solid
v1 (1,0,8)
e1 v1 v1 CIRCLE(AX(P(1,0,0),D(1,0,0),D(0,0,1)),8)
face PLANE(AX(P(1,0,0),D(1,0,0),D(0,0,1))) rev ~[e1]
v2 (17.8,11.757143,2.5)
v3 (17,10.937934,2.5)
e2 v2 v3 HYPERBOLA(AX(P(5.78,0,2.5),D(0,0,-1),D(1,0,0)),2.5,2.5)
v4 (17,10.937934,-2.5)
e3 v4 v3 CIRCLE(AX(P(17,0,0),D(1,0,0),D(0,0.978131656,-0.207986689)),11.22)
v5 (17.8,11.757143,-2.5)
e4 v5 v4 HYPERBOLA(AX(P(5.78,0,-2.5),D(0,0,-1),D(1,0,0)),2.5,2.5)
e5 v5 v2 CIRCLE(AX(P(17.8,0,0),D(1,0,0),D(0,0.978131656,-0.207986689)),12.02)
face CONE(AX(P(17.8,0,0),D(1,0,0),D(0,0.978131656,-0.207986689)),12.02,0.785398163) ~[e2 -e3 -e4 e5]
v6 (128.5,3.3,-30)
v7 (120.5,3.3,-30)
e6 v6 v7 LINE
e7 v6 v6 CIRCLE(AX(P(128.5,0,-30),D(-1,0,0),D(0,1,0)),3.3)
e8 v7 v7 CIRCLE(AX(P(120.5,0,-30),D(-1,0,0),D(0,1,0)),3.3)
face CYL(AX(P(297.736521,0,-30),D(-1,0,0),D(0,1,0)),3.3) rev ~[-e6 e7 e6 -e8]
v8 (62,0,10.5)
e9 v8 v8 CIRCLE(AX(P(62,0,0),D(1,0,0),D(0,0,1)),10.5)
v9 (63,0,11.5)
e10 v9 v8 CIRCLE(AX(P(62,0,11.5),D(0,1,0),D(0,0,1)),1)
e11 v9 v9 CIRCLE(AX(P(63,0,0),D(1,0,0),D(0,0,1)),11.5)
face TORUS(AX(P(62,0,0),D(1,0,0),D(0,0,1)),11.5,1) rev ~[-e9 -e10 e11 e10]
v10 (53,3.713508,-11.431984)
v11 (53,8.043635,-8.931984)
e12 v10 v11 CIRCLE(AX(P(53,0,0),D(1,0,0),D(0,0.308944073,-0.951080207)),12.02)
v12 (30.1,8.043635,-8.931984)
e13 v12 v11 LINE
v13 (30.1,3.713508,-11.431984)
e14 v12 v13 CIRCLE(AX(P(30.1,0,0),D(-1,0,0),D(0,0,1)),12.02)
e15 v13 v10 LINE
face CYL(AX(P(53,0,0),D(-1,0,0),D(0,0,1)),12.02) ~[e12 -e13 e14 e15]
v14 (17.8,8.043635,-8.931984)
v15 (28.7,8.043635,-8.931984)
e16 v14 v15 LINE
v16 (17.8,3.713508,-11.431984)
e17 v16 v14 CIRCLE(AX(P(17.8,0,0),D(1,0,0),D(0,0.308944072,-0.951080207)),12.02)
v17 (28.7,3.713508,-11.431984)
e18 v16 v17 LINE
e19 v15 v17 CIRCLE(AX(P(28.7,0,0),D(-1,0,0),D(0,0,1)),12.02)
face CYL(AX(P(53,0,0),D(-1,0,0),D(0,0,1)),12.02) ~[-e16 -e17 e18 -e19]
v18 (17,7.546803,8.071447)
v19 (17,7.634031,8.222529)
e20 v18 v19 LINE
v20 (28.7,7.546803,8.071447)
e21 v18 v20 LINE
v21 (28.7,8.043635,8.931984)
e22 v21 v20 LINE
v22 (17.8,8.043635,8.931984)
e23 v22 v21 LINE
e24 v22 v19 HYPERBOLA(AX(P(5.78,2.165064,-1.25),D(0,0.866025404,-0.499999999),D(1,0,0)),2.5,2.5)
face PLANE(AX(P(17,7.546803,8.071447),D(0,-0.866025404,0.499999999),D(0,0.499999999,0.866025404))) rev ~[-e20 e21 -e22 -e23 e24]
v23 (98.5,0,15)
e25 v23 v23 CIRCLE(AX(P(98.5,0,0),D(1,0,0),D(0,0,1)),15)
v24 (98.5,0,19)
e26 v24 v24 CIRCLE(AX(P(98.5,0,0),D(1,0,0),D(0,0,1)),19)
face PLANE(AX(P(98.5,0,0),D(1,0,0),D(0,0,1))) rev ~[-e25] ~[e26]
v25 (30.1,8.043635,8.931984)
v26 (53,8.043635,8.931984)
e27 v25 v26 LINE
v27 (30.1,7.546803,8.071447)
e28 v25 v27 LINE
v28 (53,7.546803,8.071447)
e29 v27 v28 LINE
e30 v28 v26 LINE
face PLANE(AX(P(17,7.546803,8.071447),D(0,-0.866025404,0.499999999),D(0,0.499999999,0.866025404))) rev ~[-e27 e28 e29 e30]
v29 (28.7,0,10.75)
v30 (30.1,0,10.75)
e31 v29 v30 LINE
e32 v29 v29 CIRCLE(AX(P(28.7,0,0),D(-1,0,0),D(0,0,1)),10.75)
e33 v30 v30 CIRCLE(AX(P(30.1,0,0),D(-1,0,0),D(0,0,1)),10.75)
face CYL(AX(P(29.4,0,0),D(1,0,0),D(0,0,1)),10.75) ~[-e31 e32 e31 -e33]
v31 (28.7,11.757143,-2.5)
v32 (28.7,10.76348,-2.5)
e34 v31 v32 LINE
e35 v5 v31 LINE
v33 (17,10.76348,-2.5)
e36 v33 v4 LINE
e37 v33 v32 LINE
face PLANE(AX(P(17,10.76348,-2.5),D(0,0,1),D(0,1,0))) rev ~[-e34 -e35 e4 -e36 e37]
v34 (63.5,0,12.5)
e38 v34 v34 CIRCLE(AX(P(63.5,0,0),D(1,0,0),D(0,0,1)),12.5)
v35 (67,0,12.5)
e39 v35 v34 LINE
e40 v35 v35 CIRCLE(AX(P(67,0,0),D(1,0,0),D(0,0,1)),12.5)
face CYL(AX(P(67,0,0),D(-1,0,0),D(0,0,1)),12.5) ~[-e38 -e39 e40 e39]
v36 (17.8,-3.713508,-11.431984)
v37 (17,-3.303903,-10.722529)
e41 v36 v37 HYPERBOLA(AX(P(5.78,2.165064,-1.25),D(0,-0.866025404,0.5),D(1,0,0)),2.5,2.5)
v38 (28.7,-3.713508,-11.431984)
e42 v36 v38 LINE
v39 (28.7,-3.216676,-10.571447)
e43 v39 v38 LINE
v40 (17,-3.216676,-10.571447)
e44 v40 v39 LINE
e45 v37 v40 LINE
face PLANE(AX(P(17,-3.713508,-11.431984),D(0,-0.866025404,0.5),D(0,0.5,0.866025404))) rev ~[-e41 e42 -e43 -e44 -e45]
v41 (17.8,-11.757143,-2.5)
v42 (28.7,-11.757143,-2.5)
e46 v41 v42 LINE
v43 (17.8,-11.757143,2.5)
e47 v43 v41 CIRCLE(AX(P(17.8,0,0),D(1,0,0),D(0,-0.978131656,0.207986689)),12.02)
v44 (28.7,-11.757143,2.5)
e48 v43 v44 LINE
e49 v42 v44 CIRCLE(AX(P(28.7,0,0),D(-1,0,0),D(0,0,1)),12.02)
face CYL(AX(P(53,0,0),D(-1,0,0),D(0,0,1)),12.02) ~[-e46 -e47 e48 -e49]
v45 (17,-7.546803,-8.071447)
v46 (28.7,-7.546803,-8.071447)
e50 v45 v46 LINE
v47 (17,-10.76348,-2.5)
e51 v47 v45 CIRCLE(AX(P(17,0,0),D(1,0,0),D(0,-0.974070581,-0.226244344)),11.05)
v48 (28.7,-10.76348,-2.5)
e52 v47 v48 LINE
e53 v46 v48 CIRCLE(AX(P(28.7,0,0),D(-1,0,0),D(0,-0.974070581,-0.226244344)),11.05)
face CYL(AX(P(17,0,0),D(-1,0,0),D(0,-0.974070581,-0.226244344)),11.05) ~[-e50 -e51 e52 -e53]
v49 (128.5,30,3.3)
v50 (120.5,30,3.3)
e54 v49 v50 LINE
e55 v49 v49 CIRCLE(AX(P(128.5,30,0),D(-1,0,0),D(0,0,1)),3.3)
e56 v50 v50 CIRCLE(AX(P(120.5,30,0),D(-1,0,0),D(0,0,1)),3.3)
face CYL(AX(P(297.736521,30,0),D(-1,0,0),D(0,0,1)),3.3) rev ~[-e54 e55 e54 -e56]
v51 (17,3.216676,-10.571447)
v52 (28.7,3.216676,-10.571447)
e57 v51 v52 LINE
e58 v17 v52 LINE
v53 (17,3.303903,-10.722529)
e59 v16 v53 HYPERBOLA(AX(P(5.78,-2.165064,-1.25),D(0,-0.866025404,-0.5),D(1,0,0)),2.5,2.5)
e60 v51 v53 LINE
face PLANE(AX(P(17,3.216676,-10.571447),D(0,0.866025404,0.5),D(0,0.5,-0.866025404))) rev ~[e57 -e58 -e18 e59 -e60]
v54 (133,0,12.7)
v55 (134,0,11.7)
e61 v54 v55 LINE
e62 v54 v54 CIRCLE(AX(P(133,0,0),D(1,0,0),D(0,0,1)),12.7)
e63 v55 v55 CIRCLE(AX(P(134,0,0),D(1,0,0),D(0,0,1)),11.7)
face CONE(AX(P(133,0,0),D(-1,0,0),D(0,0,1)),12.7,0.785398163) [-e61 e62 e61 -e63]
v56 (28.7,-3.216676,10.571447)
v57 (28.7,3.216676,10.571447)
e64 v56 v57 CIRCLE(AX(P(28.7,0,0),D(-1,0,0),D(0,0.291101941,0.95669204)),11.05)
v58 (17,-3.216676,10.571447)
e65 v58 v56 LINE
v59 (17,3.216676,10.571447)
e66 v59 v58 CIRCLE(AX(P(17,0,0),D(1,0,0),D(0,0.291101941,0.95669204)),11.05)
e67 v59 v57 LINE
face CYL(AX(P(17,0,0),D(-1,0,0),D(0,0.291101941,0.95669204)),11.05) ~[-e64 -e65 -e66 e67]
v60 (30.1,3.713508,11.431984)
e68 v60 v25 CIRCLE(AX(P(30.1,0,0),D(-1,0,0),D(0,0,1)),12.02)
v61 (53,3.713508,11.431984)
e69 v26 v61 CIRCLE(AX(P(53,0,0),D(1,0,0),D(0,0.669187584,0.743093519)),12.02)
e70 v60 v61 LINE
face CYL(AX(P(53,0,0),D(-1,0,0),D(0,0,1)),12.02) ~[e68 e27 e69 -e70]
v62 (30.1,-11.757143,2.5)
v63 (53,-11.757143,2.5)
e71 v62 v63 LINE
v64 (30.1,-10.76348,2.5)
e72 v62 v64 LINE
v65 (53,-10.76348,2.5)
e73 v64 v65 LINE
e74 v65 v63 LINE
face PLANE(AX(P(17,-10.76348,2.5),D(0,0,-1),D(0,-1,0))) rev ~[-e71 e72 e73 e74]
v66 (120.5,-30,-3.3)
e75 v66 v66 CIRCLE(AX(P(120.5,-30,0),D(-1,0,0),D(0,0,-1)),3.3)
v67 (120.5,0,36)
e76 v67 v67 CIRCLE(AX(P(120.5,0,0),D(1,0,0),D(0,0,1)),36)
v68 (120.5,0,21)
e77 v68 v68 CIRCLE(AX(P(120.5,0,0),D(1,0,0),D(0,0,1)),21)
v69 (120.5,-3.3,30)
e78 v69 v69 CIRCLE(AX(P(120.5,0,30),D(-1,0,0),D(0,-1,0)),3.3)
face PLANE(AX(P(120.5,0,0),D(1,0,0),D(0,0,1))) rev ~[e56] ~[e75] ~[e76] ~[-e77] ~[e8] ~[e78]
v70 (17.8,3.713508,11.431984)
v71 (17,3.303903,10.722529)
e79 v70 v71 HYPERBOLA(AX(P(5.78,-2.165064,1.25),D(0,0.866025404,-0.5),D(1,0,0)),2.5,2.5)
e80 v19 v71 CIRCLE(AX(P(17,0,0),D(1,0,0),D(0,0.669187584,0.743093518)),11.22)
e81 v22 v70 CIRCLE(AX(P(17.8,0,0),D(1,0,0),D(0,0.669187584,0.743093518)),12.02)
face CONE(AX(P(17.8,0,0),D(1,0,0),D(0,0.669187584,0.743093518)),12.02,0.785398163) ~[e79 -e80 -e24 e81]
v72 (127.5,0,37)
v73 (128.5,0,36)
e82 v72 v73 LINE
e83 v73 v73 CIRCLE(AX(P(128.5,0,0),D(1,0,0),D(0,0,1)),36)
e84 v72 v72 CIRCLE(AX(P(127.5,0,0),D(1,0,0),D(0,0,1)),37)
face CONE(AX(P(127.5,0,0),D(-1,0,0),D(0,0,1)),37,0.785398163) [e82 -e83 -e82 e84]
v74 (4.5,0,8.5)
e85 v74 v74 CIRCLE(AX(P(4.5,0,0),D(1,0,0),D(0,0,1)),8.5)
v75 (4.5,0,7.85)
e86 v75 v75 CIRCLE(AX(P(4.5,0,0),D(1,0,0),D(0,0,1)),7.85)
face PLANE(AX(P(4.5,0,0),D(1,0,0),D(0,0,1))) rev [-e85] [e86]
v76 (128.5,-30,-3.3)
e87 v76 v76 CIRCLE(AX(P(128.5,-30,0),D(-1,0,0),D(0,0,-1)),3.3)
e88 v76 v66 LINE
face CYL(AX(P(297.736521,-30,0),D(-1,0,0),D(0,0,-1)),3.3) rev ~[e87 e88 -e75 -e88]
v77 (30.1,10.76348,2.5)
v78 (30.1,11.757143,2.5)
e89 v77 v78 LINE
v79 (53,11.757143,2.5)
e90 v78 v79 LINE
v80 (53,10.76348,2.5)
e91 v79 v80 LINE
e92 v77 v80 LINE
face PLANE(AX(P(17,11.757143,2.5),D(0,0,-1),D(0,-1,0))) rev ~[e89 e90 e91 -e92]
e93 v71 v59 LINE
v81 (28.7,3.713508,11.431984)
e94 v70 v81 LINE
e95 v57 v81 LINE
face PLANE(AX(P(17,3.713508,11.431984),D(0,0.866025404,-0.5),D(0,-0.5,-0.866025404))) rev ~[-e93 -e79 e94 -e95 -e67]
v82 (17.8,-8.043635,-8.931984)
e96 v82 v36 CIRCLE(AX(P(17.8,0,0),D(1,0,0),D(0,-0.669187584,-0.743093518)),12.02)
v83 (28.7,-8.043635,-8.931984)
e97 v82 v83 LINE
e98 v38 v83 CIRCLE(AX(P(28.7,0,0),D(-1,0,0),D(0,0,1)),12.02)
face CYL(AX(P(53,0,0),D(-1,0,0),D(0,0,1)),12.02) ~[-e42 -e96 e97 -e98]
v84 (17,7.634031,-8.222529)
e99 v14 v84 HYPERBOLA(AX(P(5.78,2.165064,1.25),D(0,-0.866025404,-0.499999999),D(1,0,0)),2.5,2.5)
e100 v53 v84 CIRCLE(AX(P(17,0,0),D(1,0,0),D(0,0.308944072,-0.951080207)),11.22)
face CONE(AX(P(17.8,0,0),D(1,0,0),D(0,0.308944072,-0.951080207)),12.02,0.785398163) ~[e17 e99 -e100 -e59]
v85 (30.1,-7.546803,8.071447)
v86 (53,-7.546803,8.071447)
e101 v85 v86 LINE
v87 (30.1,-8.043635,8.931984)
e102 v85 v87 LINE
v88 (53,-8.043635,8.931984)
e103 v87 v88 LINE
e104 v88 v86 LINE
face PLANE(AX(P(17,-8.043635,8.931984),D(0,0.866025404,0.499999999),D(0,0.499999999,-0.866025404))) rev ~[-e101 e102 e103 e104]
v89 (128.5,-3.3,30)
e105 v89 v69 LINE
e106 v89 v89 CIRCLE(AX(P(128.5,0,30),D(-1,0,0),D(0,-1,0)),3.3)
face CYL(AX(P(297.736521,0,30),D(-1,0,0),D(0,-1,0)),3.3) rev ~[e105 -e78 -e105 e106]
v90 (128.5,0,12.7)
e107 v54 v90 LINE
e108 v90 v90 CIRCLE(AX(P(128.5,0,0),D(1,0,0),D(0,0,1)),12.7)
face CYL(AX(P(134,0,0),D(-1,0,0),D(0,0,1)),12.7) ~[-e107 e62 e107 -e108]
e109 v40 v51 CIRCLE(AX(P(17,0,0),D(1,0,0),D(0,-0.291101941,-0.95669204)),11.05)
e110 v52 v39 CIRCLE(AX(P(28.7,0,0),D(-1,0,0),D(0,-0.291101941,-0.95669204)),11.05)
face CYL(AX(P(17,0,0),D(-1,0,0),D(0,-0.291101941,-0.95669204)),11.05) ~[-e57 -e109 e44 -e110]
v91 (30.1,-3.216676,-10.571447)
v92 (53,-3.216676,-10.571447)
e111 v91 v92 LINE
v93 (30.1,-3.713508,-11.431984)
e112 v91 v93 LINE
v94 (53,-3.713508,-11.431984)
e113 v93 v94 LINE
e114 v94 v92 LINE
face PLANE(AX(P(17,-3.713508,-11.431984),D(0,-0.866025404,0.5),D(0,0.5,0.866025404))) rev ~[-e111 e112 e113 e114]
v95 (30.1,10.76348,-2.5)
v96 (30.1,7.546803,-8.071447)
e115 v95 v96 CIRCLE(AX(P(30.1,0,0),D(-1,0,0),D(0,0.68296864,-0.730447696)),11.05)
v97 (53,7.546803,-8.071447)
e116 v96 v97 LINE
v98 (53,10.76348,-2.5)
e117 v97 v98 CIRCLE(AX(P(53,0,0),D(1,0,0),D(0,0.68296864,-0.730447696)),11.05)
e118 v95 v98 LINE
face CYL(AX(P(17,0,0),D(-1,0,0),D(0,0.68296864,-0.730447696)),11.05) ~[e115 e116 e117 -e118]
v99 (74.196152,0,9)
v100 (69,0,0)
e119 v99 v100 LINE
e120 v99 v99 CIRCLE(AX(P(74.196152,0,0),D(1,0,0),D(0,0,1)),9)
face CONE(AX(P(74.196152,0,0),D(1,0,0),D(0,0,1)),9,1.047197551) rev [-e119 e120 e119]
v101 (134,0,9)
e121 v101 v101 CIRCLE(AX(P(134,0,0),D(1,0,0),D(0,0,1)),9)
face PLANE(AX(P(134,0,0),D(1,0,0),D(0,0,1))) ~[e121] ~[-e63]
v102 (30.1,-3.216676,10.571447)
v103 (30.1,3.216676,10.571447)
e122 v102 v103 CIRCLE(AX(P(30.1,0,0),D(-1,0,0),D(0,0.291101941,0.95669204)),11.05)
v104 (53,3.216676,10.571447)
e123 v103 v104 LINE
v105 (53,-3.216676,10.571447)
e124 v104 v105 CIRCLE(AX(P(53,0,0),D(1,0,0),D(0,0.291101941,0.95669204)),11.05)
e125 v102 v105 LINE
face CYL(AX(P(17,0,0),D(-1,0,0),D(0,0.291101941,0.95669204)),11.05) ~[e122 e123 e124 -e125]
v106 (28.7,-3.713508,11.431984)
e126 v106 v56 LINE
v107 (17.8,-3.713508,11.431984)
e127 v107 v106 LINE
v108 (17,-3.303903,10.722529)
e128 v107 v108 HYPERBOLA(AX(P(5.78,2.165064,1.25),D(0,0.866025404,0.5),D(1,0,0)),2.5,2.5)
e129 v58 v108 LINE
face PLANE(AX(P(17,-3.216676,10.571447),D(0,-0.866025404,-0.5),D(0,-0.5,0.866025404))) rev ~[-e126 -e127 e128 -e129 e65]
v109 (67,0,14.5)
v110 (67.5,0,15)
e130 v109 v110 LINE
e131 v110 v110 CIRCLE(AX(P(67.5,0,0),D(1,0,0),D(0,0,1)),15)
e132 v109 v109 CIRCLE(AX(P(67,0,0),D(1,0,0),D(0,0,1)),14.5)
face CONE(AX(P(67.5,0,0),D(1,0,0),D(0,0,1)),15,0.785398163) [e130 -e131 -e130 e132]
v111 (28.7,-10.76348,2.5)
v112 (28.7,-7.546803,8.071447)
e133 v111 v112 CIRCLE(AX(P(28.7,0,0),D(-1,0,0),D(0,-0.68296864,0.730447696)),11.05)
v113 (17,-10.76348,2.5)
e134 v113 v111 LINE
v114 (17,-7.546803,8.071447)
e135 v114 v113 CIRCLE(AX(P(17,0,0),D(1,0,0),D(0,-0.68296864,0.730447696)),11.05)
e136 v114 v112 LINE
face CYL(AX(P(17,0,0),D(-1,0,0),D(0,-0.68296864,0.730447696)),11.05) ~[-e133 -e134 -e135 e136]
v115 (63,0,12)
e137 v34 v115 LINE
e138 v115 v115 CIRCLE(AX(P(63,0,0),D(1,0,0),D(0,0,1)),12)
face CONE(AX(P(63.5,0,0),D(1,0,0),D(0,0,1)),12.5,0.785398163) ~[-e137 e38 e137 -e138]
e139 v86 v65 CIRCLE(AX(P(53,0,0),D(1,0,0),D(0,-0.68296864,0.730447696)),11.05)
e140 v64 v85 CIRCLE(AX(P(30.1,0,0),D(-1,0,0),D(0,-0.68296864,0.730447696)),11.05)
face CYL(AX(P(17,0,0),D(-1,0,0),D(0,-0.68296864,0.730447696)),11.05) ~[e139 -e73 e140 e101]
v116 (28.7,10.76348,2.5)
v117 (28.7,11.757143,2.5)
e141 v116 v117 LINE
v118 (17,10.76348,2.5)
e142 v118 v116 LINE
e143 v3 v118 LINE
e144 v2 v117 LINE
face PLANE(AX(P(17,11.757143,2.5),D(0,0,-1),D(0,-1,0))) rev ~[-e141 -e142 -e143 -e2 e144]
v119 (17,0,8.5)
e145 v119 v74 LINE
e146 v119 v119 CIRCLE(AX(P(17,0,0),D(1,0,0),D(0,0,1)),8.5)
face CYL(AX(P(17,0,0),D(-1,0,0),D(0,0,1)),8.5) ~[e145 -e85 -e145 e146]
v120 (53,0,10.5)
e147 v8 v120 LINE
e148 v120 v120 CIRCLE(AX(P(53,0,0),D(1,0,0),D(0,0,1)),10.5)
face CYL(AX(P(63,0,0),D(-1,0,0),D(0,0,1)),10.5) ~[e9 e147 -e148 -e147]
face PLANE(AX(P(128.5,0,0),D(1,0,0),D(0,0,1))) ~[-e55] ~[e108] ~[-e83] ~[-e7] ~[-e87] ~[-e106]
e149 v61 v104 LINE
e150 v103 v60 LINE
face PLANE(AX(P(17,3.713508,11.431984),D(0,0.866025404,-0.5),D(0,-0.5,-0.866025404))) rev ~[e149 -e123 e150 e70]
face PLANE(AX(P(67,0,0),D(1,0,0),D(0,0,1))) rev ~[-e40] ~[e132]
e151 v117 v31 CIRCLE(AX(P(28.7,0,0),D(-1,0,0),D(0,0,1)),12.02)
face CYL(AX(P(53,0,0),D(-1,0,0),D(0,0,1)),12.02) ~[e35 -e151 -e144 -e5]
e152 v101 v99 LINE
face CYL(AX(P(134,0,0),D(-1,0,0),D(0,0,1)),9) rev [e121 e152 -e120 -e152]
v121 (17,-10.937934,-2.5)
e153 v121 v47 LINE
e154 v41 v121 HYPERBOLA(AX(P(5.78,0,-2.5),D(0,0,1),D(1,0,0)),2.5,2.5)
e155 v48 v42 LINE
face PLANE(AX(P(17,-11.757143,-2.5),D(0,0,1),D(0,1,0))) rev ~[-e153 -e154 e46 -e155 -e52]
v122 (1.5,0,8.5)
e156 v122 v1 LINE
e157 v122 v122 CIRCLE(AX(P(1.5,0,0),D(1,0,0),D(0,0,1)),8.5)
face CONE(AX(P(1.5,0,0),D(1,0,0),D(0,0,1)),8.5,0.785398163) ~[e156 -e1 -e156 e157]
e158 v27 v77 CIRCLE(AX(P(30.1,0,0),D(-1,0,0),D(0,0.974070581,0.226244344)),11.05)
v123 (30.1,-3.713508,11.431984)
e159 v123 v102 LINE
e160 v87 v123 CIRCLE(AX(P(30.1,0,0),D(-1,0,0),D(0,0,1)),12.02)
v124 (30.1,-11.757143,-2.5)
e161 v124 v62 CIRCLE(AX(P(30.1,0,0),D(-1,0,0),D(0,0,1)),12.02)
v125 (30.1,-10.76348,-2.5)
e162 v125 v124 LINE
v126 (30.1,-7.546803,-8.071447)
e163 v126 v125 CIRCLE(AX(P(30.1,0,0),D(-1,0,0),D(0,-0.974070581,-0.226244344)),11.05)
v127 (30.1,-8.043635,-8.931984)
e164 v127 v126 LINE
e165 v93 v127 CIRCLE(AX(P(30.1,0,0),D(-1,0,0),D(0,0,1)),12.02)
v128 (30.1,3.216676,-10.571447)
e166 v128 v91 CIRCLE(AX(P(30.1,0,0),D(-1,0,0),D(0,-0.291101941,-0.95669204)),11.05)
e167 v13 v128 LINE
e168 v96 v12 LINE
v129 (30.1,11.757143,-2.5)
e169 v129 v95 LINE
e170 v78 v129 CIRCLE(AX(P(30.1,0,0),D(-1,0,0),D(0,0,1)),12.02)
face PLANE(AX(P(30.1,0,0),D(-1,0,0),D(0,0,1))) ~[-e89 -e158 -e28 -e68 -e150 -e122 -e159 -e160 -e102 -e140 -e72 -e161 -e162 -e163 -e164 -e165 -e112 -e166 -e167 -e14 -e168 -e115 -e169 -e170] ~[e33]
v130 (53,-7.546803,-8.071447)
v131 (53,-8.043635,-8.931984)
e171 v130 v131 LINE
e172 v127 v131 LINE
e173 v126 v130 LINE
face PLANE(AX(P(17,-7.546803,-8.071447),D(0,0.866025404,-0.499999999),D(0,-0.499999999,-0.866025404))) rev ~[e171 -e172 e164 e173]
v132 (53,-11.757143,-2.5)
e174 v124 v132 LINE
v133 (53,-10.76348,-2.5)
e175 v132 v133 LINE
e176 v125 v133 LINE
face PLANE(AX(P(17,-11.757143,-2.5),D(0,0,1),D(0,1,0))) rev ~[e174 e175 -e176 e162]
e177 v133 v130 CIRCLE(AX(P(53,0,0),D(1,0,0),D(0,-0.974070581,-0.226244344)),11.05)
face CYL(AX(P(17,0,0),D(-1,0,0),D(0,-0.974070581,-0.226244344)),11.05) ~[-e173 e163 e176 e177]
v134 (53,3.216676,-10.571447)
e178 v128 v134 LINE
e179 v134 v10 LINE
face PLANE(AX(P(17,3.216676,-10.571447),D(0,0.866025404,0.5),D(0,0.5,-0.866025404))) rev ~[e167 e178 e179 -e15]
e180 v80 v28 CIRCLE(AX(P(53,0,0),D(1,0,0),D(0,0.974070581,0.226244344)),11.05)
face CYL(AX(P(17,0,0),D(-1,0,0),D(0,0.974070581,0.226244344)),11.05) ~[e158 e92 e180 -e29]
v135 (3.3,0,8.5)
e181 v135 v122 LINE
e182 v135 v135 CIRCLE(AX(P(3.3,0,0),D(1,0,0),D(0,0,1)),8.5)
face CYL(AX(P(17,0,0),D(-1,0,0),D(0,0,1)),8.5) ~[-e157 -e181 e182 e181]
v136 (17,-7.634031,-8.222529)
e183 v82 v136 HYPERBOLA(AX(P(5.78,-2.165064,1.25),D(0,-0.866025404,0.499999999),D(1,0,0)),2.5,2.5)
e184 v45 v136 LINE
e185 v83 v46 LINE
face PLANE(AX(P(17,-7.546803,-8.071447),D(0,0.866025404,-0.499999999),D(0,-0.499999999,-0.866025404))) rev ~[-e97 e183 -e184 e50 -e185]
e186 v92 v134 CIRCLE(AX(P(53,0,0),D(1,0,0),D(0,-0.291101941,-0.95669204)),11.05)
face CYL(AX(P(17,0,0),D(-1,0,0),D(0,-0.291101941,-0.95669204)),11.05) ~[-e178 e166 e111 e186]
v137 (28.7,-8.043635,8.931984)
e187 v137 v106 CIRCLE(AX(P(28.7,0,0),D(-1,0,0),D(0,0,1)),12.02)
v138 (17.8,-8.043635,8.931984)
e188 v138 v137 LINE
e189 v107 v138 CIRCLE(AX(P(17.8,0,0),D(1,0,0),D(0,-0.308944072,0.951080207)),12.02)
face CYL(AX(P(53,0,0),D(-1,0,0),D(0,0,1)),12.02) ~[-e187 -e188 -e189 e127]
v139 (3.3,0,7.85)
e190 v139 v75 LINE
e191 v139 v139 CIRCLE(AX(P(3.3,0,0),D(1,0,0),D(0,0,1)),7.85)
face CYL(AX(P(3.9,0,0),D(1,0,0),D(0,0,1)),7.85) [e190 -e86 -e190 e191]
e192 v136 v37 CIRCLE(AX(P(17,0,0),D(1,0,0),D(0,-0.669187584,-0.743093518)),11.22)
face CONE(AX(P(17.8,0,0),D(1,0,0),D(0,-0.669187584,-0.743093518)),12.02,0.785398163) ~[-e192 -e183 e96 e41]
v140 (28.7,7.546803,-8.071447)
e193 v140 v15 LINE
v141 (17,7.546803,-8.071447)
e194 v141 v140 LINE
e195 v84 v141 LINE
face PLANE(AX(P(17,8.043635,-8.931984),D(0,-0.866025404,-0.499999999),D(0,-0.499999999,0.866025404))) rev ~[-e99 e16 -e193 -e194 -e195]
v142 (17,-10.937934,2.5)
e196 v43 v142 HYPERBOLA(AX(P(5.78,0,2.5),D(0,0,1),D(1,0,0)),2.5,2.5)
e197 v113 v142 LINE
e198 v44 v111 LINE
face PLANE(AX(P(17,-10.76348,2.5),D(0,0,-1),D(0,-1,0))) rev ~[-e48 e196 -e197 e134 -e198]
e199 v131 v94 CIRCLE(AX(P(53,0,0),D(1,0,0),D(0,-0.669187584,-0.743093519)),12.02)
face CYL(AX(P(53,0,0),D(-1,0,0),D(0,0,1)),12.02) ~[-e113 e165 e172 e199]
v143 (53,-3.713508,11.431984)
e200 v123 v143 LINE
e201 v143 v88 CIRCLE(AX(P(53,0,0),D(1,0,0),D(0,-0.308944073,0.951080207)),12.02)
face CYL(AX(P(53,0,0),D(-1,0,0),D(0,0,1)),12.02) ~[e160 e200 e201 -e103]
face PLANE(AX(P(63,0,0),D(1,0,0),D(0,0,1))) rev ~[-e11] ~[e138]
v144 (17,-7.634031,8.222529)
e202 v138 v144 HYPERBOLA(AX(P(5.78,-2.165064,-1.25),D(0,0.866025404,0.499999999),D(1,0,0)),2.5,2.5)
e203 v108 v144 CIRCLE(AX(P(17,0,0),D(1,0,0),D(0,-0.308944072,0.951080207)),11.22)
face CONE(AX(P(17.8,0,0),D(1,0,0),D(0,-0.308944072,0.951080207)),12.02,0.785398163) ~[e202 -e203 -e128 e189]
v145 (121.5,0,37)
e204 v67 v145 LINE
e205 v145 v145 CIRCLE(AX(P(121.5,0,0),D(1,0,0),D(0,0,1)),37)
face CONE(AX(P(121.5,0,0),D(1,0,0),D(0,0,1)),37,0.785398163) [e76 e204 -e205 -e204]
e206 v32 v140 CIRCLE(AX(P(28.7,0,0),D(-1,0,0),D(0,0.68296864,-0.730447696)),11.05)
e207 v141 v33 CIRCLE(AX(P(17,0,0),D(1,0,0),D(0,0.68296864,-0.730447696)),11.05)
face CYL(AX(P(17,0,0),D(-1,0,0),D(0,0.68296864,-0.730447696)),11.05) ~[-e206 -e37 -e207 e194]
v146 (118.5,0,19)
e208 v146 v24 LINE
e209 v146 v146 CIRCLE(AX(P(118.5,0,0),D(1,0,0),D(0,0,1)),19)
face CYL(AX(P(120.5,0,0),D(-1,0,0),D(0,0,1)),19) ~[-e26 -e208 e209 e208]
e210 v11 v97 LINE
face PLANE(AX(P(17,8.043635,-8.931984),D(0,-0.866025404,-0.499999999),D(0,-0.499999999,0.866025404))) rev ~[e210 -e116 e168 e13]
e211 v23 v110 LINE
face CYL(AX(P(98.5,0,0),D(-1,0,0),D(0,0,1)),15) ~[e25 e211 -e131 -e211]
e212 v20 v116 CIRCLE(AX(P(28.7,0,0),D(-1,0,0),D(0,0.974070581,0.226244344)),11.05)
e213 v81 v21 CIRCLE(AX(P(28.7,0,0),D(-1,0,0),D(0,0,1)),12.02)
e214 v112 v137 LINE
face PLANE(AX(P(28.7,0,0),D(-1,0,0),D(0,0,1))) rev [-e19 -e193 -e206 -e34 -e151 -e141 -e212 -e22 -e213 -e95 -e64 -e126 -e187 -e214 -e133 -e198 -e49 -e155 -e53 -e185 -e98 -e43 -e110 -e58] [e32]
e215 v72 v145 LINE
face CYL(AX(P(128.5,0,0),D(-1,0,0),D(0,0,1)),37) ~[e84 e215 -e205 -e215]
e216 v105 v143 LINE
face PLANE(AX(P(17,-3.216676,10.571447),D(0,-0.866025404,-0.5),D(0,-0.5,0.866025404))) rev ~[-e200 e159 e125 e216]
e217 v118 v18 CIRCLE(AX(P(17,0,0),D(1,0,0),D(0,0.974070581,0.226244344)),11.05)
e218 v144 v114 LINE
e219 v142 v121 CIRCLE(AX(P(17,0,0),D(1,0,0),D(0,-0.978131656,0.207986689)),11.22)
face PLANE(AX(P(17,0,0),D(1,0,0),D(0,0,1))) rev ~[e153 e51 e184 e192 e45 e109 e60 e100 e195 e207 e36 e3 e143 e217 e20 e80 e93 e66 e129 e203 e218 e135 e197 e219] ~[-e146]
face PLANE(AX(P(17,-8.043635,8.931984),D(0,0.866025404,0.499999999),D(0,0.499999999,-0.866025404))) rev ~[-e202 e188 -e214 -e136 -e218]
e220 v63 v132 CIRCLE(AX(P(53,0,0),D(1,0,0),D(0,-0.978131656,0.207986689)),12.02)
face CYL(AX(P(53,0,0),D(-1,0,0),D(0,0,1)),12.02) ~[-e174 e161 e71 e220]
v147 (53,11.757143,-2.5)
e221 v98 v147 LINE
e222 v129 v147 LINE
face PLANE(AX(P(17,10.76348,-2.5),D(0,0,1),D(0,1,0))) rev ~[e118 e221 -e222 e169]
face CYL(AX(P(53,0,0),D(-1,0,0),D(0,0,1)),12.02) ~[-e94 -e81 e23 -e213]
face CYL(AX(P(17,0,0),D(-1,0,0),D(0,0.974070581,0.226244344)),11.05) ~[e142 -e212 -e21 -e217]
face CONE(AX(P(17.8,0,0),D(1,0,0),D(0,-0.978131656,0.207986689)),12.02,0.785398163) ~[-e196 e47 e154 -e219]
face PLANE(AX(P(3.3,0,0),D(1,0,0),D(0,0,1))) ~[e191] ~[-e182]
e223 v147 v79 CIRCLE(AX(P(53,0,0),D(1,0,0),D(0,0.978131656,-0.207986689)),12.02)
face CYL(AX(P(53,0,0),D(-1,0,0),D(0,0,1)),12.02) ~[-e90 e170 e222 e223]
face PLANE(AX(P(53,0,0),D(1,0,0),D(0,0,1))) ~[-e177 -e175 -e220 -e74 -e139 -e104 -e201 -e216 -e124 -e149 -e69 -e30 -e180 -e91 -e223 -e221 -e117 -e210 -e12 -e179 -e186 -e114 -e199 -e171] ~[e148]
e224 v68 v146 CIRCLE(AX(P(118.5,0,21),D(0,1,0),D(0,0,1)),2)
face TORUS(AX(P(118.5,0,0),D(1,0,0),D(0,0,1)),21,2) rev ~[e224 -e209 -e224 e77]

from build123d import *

# Parameters (mm, degrees)
ESQUISSE1_W                  = 135
ESQUISSE1_H                  = 37.5
D_GAGEMENT_M61_D             = 6.6
R_P_TITION_CIRCULAIRE1_COUNT = 4
CONG_1_R                     = 2
ESQUISSE12_W                 = 1.4
ESQUISSE12_H                 = 1.27
ESQUISSE7_R                  = 13.345253716
ENL_V_MAT_EXTRU_1_DEPTH      = 36
ESQUISSE8_W                  = 1.2
ESQUISSE8_H                  = 0.65
CHANFREIN1_SIZE              = 0.8
CHANFREIN2_SIZE              = 0.5
CONG_2_R                     = 1
CHANFREIN3_SIZE              = 0.5
CHANFREIN4_SIZE              = 1
CHANFREIN5_SIZE              = 1
CHANFREIN6_SIZE              = 0.5


with BuildPart() as part:
    # Esquisse1 → Révolution1 (revolve)
    with BuildSketch(Plane.XY, mode=Mode.PRIVATE) as r_volution1_sk:
        with Locations((67.5, 18.75)):
            Rectangle(ESQUISSE1_W, ESQUISSE1_H)
    revolve(r_volution1_sk.sketch.rotate(Axis((-44.672408566, 0, 0), (1, 0, 0)), 90), axis=Axis((-44.672408566, 0, 0), (1, 0, 0)))  # turned: the seam where the file's is

    # Esquisse2 → Enlèvement de matière-Révolution1 (revolve, cut)
    with BuildSketch(Plane.XY, mode=Mode.PRIVATE) as enl_vement_de_mati_re_r_volution1_sk:
        Polygon((0, 0), (0, 37.5), (135, 37.5), (135, 0), (134, 0), (134, 12.7), (128.5, 12.7), (128.5, 37), (120.5, 37), (120.5, 19), (98.5, 19), (98.5, 15), (53, 15), (53, 12.02), (17, 12.02), (17, 8.5), (1, 8.5), (1, 0), align=None)
    revolve(enl_vement_de_mati_re_r_volution1_sk.sketch.rotate(Axis((-11.79532693, 0, 0), (1, 0, 0)), 90), axis=Axis((-11.79532693, 0, 0), (1, 0, 0)), mode=Mode.SUBTRACT)  # turned: the seam where the file's is

    # Dégagement M61 (through all)
    with Locations(Plane(origin=(128.5, 0, 0), x_dir=(0, 0, -1), z_dir=(1, 0, 0))):
        with Locations((0, 30)):
            d_gagement_m61 = Hole(D_GAGEMENT_M61_D / 2)

    # Répétition circulaire1: Dégagement M61 ×4 about axis
    r_p_tition_circulaire1_axis = Axis((0, 0, 0), (1, 0, 0))
    for i in range(1, R_P_TITION_CIRCULAIRE1_COUNT):
        add(d_gagement_m61.rotate(r_p_tition_circulaire1_axis, i * 360 / R_P_TITION_CIRCULAIRE1_COUNT), mode=Mode.SUBTRACT)

    # Congé1
    cong_1_edges = [part.edges().sort_by_distance(p)[0] for p in [
        (120.5, 0, -19),
    ]]
    fillet(cong_1_edges, radius=CONG_1_R)

    # Esquisse12 → Enlèvement de matière-Révolution6 (revolve, cut)
    with BuildSketch(Plane.XY, mode=Mode.PRIVATE) as enl_vement_de_mati_re_r_volution6_sk:
        with Locations((29.4, 11.385)):
            Rectangle(ESQUISSE12_W, ESQUISSE12_H)
    revolve(enl_vement_de_mati_re_r_volution6_sk.sketch.rotate(Axis((0, 0, 0), (-1, 0, 0)), 270), axis=Axis((0, 0, 0), (-1, 0, 0)), mode=Mode.SUBTRACT)  # turned: the seam where the file's is

    # Esquisse7 → Enlèv. mat.-Extru.1 (cut)
    with BuildSketch(Plane.ZY.offset(-17)):
        Circle(ESQUISSE7_R)
        with BuildLine():
            Line((11.43198409, 3.713507746), (10.571447044, 3.216676451))
            ThreePointArc((10.571447044, 3.216676451), (11.05, 0), (10.571447044, -3.216676451))
            Line((10.571447044, -3.216676451), (11.43198409, -3.713507746))
            ThreePointArc((11.43198409, -3.713507746), (10.409625353, -6.01), (8.93198409, -8.043634764))
            Line((8.93198409, -8.043634764), (8.071447044, -7.54680347))
            ThreePointArc((8.071447044, -7.54680347), (5.525, -9.569580712), (2.5, -10.763479921))
            Line((2.5, -10.763479921), (2.5, -11.75714251))
            ThreePointArc((2.5, -11.75714251), (0, -12.02), (-2.5, -11.75714251))
            Line((-2.5, -11.75714251), (-2.5, -10.763479921))
            ThreePointArc((-2.5, -10.763479921), (-5.525, -9.569580712), (-8.071447044, -7.54680347))
            Line((-8.071447044, -7.54680347), (-8.93198409, -8.043634764))
            ThreePointArc((-8.93198409, -8.043634764), (-10.409625353, -6.01), (-11.43198409, -3.713507746))
            Line((-11.43198409, -3.713507746), (-10.571447044, -3.216676451))
            ThreePointArc((-10.571447044, -3.216676451), (-11.05, 0), (-10.571447044, 3.216676451))
            Line((-10.571447044, 3.216676451), (-11.43198409, 3.713507746))
            ThreePointArc((-11.43198409, 3.713507746), (-10.409625353, 6.01), (-8.93198409, 8.043634764))
            Line((-8.93198409, 8.043634764), (-8.071447044, 7.54680347))
            ThreePointArc((-8.071447044, 7.54680347), (-5.525, 9.569580712), (-2.5, 10.763479921))
            Line((-2.5, 10.763479921), (-2.5, 11.75714251))
            ThreePointArc((-2.5, 11.75714251), (0, 12.02), (2.5, 11.75714251))
            Line((2.5, 11.75714251), (2.5, 10.763479921))
            ThreePointArc((2.5, 10.763479921), (5.525, 9.569580712), (8.071447044, 7.54680347))
            Line((8.071447044, 7.54680347), (8.93198409, 8.043634764))
            ThreePointArc((8.93198409, 8.043634764), (10.409625353, 6.01), (11.43198409, 3.713507746))
        make_face(mode=Mode.SUBTRACT)
    extrude(amount=-ENL_V_MAT_EXTRU_1_DEPTH, mode=Mode.SUBTRACT)

    # Esquisse8 → Enlèvement de matière-Révolution3 (revolve, cut)
    with BuildSketch(Plane.XY, mode=Mode.PRIVATE) as enl_vement_de_mati_re_r_volution3_sk:
        with Locations((3.9, 8.175)):
            Rectangle(ESQUISSE8_W, ESQUISSE8_H)
    revolve(enl_vement_de_mati_re_r_volution3_sk.sketch.rotate(Axis((-5.65, 0, 0), (1, 0, 0)), 90), axis=Axis((-5.65, 0, 0), (1, 0, 0)), mode=Mode.SUBTRACT)  # turned: the seam where the file's is

    # Chanfrein1
    chanfrein1_edges = [part.edges().sort_by_distance(p)[0] for p in [
        (17, 6.01, 10.409625353),
        (17, 12.02, 0),
        (17, 6.01, -10.409625353),
        (17, -6.01, -10.409625353),
        (17, -12.02, 0),
        (17, -6.01, 10.409625353),
    ]]
    chamfer(chanfrein1_edges, length=CHANFREIN1_SIZE)

    # Esquisse9 → Enlèvement de matière-Révolution4 (revolve, cut)
    with BuildSketch(Plane.XY, mode=Mode.PRIVATE) as enl_vement_de_mati_re_r_volution4_sk:
        Polygon((53, 15), (67, 15), (67, 12.5), (63, 12.5), (63, 10.5), (53, 10.5), align=None)
    revolve(enl_vement_de_mati_re_r_volution4_sk.sketch.rotate(Axis((-5.65, 0, 0), (1, 0, 0)), 90), axis=Axis((-5.65, 0, 0), (1, 0, 0)), mode=Mode.SUBTRACT)  # turned: the seam where the file's is

    # Chanfrein2
    chanfrein2_edges = [part.edges().sort_by_distance(p)[0] for p in [
        (67, 0, -15),
    ]]
    chamfer(chanfrein2_edges, length=CHANFREIN2_SIZE)

    # Congé2
    cong_2_edges = [part.edges().sort_by_distance(p)[0] for p in [
        (63, 0, -10.5),
    ]]
    fillet(cong_2_edges, radius=CONG_2_R)

    # Chanfrein3
    chanfrein3_edges = [part.edges().sort_by_distance(p)[0] for p in [
        (1, 0, -8.5),
    ]]
    chamfer(chanfrein3_edges, length=CHANFREIN3_SIZE)

    # Chanfrein4
    chanfrein4_edges = [part.edges().sort_by_distance(p)[0] for p in [
        (128.5, 0, -37),
        (120.5, 0, -37),
    ]]
    chamfer(chanfrein4_edges, length=CHANFREIN4_SIZE)

    # Chanfrein5
    chanfrein5_edges = [part.edges().sort_by_distance(p)[0] for p in [
        (134, 0, -12.7),
    ]]
    chamfer(chanfrein5_edges, length=CHANFREIN5_SIZE)

    # Chanfrein6
    chanfrein6_edges = [part.edges().sort_by_distance(p)[0] for p in [
        (63, 0, -12.5),
    ]]
    chamfer(chanfrein6_edges, length=CHANFREIN6_SIZE)

    # Esquisse13 → Enlèvement de matière-Révolution7 (revolve, cut)
    with BuildSketch(Plane.XY, mode=Mode.PRIVATE) as enl_vement_de_mati_re_r_volution7_sk:
        Polygon((134, 9), (74.196152423, 9), (69, 0), (134, 0), align=None)
    revolve(enl_vement_de_mati_re_r_volution7_sk.sketch.rotate(Axis((-5.65, 0, 0), (1, 0, 0)), 90), axis=Axis((-5.65, 0, 0), (1, 0, 0)), mode=Mode.SUBTRACT)  # turned: the seam where the file's is


solid = part.part
